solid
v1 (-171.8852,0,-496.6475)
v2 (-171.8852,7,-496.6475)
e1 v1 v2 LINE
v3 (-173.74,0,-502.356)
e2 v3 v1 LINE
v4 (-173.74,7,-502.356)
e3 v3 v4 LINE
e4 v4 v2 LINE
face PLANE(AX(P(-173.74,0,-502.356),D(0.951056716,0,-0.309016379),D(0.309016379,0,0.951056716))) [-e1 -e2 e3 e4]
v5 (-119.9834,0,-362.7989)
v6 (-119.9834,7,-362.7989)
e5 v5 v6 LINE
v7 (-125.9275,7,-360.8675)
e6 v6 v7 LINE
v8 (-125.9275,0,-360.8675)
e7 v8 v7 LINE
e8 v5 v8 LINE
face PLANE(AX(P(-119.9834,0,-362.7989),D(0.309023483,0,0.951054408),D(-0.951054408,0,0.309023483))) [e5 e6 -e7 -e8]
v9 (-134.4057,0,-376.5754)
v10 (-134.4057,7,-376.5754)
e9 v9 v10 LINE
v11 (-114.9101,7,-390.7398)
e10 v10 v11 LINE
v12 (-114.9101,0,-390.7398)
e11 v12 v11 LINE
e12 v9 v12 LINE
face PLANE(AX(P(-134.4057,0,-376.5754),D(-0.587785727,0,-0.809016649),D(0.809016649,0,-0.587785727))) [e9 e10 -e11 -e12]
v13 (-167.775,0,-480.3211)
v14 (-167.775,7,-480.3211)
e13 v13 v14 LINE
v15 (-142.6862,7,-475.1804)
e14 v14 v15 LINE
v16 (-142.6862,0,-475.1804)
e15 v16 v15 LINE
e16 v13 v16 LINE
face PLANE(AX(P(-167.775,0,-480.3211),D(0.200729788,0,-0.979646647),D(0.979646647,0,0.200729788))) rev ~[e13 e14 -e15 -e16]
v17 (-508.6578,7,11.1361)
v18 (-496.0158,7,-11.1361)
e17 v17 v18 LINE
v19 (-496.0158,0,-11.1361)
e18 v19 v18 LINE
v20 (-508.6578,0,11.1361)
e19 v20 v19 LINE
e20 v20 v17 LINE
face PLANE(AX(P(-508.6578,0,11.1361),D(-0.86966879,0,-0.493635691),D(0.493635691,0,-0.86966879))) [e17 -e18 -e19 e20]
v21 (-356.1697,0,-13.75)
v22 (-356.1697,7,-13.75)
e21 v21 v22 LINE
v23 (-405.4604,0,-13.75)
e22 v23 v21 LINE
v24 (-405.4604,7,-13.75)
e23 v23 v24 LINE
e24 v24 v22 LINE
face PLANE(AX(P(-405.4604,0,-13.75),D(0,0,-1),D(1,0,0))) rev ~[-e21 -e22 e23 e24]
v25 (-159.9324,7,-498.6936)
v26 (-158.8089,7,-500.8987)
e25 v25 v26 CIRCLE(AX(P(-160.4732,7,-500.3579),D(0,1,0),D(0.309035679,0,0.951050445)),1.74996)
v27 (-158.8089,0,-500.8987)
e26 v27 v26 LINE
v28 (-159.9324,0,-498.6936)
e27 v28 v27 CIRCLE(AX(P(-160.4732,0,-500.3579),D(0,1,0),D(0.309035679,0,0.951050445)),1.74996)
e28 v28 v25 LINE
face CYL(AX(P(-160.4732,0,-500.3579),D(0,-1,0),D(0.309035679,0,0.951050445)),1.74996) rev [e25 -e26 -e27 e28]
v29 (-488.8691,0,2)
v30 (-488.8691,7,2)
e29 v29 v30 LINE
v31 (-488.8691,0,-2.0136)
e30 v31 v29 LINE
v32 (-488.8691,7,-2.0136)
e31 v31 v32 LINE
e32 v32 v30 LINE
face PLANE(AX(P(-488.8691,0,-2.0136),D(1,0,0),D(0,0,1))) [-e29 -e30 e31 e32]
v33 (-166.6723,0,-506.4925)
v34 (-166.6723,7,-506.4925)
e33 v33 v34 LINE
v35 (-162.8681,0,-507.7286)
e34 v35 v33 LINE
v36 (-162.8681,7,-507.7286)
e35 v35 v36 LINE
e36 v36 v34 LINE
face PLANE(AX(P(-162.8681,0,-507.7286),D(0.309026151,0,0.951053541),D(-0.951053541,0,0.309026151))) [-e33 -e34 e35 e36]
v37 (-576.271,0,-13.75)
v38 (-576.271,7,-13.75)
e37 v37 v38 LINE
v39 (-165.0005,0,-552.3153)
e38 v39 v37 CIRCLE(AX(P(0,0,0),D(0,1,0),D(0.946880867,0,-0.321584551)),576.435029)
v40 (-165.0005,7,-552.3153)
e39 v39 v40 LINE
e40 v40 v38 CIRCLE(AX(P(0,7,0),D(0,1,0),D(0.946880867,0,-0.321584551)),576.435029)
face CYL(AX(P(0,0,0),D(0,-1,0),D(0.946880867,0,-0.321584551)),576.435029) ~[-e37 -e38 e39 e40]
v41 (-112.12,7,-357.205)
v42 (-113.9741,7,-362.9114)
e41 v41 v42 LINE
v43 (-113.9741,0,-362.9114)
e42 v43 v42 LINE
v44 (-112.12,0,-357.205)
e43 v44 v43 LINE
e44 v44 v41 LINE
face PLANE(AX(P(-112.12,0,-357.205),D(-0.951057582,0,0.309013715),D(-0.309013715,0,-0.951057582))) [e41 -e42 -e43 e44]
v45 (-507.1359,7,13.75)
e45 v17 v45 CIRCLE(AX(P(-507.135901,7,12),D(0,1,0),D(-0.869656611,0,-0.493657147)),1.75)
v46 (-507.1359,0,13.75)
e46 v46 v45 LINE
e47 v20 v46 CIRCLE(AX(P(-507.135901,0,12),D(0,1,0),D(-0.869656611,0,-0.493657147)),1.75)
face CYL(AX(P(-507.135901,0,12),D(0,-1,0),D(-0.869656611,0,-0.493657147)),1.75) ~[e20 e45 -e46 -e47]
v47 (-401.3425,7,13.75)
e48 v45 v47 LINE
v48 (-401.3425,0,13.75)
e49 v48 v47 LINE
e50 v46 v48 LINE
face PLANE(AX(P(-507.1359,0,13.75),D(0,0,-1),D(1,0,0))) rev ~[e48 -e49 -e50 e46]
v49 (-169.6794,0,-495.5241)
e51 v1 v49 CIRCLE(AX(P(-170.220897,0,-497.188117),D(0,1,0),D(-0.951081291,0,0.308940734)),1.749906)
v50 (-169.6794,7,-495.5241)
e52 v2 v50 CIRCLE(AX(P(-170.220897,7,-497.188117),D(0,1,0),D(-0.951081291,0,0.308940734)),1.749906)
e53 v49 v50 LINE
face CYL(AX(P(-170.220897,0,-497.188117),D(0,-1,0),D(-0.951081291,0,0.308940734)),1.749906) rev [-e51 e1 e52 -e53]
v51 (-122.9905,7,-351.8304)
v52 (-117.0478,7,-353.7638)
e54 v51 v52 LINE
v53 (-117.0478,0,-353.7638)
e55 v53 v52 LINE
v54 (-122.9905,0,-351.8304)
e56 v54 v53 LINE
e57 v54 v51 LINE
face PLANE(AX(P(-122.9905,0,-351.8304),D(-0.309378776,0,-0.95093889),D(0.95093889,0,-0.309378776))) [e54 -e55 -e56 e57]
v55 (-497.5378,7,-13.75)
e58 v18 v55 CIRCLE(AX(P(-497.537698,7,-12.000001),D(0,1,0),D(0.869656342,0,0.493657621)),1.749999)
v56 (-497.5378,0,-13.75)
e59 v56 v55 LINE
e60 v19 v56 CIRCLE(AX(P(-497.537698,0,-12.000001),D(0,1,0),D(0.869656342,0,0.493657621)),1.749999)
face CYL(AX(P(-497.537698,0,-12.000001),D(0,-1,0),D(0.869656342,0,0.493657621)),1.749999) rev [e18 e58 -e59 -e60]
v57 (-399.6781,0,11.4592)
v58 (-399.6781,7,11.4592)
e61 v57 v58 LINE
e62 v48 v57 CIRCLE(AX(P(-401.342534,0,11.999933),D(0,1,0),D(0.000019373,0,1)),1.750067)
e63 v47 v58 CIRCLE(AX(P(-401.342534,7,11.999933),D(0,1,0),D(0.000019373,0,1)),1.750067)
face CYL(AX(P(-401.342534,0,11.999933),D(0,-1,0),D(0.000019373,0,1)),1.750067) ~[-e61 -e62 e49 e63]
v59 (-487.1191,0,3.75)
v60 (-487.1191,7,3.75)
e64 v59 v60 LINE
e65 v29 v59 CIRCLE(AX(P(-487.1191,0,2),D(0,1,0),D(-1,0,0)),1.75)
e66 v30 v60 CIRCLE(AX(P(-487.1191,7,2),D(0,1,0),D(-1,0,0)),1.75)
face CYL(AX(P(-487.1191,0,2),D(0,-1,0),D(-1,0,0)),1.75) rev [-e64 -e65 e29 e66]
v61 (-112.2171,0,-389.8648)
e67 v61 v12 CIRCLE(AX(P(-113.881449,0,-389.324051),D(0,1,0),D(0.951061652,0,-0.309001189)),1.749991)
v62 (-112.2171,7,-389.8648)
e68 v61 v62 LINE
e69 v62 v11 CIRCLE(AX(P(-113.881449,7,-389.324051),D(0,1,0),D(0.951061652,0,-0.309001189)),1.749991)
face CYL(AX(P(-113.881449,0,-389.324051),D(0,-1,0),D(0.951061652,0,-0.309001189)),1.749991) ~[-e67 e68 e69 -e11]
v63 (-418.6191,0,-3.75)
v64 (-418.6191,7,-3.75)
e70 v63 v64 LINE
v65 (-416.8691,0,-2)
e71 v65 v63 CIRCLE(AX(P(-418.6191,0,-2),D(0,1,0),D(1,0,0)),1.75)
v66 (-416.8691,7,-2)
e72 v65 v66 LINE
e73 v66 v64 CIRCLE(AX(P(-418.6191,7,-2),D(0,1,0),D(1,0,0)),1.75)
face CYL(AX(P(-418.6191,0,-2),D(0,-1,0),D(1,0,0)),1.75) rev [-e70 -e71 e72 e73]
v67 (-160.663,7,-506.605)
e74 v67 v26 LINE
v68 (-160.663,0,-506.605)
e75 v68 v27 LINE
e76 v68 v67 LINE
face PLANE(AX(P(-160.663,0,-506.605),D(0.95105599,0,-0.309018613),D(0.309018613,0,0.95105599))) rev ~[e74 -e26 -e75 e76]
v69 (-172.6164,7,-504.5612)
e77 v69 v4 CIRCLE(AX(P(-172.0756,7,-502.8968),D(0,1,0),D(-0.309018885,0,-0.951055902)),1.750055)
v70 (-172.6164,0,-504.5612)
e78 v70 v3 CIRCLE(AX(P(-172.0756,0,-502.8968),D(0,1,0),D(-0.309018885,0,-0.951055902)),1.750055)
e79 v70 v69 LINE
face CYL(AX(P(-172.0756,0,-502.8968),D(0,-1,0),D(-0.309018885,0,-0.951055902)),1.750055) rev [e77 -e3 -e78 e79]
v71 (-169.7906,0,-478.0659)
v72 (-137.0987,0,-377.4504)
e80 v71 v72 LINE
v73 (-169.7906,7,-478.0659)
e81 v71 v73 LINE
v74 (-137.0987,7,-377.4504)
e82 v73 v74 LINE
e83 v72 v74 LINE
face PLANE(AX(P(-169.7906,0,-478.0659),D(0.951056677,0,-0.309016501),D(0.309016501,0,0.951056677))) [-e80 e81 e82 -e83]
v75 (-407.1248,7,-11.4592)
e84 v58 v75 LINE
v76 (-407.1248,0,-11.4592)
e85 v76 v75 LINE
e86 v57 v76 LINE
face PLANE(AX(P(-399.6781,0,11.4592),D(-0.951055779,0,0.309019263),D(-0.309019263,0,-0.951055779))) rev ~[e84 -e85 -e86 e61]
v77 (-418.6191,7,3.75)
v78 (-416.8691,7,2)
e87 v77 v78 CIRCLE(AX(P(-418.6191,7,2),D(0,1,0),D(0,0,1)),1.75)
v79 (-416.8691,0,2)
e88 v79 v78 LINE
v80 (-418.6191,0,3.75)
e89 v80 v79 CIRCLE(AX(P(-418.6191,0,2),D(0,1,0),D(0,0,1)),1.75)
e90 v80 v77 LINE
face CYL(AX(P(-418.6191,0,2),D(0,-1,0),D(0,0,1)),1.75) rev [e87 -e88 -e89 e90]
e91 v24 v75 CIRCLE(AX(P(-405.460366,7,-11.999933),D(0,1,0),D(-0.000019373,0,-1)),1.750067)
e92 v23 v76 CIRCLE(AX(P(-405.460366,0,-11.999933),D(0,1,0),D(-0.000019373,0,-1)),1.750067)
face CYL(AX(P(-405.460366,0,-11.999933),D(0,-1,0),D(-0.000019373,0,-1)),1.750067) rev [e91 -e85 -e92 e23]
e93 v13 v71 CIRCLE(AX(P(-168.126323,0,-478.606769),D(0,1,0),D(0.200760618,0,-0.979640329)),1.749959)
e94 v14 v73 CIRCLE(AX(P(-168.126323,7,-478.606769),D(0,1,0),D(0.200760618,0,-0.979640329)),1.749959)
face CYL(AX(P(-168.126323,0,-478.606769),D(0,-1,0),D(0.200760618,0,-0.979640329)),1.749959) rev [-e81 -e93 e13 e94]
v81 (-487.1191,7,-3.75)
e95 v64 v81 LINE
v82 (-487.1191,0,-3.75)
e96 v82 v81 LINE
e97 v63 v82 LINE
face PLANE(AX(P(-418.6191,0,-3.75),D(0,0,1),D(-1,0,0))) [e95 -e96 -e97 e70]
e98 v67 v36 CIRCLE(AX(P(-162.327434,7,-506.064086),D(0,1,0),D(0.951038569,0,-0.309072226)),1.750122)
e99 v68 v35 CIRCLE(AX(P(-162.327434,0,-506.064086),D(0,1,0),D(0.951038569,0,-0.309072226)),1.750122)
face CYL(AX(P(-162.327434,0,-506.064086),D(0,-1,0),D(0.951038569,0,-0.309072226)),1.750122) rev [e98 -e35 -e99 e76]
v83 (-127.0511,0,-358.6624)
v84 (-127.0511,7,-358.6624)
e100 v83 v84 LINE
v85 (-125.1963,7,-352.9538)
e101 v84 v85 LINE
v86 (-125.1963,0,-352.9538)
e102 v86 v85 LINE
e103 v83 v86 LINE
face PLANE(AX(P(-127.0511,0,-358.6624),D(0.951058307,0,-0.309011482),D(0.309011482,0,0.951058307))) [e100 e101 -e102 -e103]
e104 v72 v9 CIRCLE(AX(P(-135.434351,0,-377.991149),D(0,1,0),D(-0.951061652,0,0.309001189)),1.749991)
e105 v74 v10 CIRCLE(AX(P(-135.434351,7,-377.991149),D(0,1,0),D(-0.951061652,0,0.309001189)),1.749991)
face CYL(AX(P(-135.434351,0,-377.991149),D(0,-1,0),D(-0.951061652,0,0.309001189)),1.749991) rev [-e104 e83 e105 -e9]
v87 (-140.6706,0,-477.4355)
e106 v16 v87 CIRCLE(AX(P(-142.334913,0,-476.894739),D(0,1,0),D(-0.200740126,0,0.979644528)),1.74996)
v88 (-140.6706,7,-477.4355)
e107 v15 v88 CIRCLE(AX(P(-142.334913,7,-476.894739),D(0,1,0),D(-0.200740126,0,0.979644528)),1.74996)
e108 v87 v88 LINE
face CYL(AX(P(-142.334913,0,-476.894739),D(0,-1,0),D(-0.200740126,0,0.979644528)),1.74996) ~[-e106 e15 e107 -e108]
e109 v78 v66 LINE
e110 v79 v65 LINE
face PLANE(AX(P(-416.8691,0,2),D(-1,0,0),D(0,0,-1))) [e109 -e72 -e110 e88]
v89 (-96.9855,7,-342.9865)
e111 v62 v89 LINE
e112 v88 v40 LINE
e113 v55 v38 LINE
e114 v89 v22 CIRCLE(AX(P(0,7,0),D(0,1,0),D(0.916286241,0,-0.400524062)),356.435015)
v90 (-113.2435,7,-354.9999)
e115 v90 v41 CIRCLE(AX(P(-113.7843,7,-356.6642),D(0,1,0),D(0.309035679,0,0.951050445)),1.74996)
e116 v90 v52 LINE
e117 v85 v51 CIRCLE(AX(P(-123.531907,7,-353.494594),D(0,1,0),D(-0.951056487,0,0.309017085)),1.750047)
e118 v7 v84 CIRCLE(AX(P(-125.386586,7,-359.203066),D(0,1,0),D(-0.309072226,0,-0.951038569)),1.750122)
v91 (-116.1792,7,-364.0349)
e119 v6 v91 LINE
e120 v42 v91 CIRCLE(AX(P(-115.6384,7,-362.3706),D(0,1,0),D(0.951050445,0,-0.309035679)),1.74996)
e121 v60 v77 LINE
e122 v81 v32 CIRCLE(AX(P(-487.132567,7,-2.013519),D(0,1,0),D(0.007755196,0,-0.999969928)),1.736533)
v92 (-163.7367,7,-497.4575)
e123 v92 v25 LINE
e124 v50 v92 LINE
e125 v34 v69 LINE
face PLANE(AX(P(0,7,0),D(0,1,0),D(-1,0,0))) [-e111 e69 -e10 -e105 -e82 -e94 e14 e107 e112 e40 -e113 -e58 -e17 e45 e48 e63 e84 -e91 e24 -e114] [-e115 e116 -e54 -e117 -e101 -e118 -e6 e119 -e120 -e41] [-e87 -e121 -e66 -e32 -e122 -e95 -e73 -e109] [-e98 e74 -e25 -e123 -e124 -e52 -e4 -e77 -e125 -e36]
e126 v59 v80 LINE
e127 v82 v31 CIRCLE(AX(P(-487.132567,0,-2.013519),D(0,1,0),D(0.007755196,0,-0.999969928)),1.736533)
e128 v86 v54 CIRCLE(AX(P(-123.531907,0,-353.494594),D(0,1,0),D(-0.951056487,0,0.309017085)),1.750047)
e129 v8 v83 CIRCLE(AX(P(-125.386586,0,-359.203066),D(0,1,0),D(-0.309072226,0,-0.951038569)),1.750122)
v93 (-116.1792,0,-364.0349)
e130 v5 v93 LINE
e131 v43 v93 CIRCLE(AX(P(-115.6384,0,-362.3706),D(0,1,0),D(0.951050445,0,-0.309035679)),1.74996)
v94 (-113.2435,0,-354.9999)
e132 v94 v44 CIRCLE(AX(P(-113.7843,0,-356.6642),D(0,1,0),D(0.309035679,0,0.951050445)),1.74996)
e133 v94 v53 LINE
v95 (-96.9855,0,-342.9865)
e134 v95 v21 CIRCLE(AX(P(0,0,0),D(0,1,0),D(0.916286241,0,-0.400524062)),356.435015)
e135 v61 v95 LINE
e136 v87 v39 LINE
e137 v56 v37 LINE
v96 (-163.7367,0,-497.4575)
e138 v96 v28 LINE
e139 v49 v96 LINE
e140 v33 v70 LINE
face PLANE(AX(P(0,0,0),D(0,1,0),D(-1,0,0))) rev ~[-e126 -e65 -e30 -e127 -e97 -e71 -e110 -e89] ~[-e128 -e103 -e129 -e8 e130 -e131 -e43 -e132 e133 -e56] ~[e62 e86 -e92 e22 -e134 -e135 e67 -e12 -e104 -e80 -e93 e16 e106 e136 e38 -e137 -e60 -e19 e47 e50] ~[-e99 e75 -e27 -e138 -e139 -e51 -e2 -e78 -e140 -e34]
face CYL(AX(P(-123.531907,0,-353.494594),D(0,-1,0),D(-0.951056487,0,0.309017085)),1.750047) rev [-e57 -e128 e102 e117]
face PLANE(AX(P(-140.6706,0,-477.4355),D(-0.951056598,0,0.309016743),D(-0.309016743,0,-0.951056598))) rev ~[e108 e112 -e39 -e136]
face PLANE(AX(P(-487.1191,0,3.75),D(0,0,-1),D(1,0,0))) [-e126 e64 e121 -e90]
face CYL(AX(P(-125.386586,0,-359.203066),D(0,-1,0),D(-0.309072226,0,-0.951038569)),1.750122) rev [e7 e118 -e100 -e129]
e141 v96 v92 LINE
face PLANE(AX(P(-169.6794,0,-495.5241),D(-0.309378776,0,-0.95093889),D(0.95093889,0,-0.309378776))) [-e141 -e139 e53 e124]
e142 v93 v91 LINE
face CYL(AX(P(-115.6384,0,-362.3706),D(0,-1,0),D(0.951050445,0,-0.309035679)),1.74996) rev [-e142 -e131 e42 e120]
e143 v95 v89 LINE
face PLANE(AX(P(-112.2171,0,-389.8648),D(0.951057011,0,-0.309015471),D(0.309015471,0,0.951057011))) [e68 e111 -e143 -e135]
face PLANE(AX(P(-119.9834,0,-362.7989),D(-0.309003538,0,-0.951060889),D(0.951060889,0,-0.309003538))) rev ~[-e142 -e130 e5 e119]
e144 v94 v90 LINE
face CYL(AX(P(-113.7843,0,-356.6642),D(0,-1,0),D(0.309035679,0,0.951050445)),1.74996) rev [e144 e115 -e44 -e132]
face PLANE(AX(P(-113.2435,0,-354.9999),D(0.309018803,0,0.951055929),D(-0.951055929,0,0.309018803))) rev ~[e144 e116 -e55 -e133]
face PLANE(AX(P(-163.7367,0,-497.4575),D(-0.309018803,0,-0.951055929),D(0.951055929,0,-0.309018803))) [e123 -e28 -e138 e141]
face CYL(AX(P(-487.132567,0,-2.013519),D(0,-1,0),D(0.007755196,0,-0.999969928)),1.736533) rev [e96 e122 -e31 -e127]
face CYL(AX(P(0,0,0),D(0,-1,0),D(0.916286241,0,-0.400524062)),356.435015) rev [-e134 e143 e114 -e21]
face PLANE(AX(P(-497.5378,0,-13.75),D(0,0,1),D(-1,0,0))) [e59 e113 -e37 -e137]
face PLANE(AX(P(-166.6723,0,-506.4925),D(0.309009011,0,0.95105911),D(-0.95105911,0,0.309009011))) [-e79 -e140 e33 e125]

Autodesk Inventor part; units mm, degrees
ref_plane "YZ Plane" through (0, 0, 0) normal (1, 0, 0) x (0, 1, 0)
ref_plane "XZ Plane" through (0, 0, 0) normal (0, 1, 0) x (-1, 0, 0)
ref_plane "XY Plane" through (0, 0, 0) normal (0, 0, 1) x (1, 0, 0)
sketch "Sketch1" plane through (0, 0, 0) normal (0, 1, 0) x (-1, 0, 0)
  line L0 (-545.8153, 185.3726) -> (-326.5965, 142.7608)
  line L1 (-545.8153, -185.3726) -> (-326.5965, -142.7608)
  arc A0 (-545.8153, -185.3726) -> (-545.8153, 185.3726) centre (0, 0) ccw
  arc A1 (374.3691, 3.75) -> (372.6191, 2) centre (374.3691, 2) ccw
  arc A2 (372.6191, -2) -> (374.3691, -3.75) centre (374.3691, -2) ccw
  line L2 (380.3691, 3.75) -> (374.3691, 3.75)
  line L3 (374.3691, -3.75) -> (380.3691, -3.75)
  line L4 (382.1191, 2) -> (382.1191, -2)
  arc A3 (380.3691, -3.75) -> (382.1191, -2) centre (380.3691, -2) ccw
  arc A4 (382.1191, 2) -> (380.3691, 3.75) centre (380.3691, 2) ccw
  line L5 (372.6191, -2) -> (372.6191, 2)
  line L6 (523.7076, 2) -> (523.7076, -2)
  arc A5 (523.7076, -2) -> (525.4576, -3.75) centre (525.4576, -2) ccw
  arc A6 (525.4576, 3.75) -> (523.7076, 2) centre (525.4576, 2) ccw
  line L7 (531.4576, -3.75) -> (525.4576, -3.75)
  line L8 (525.4576, 3.75) -> (531.4576, 3.75)
  arc A7 (531.4576, -3.75) -> (533.2076, -2) centre (531.4576, -2) ccw
  line L9 (533.2076, -2) -> (533.2076, 2)
  arc A8 (533.2076, 2) -> (531.4576, 3.75) centre (531.4576, 2) ccw
  arc A9 (-326.5965, -142.7608) -> (-326.5965, 142.7608) centre (0, 0) ccw
  line L10 (116.1792, 364.0349) -> (119.9834, 362.7989)
  arc A10 (121.107, 360.5937) -> (119.9834, 362.7989) centre (119.4426, 361.1345) ccw
  arc A11 (116.1792, 364.0349) -> (113.9741, 362.9114) centre (115.6384, 362.3706) ccw
  line L11 (119.2529, 354.8874) -> (121.107, 360.5937)
  line L12 (113.9741, 362.9114) -> (112.12, 357.205)
  line L13 (117.0478, 353.7638) -> (113.2435, 354.9999)
  arc A12 (112.12, 357.205) -> (113.2435, 354.9999) centre (113.7843, 356.6642) ccw
  arc A13 (117.0478, 353.7638) -> (119.2529, 354.8874) centre (117.5885, 355.4282) ccw
  arc A14 (163.7367, 497.4575) -> (165.9418, 498.5811) centre (164.2774, 499.1218) ccw
  arc A15 (158.8089, 500.8987) -> (159.9324, 498.6936) centre (160.4732, 500.3579) ccw
  line L14 (159.9324, 498.6936) -> (163.7367, 497.4575)
  line L15 (158.8089, 500.8987) -> (160.663, 506.605)
  line L16 (167.7959, 504.2874) -> (165.9418, 498.5811)
  arc A16 (162.8681, 507.7286) -> (160.663, 506.605) centre (162.3273, 506.0642) ccw
  line L17 (166.6723, 506.4925) -> (162.8681, 507.7286)
  arc A17 (167.7959, 504.2874) -> (166.6723, 506.4925) centre (166.1315, 504.8282) ccw
  line L18 (-310.3164, 222.986) -> (-307.9653, 226.222)
  arc A18 (-305.5209, 226.6092) -> (-307.9653, 226.222) centre (-306.5495, 225.1934) ccw
  arc A19 (-310.3164, 222.986) -> (-309.9293, 220.5416) centre (-308.9007, 221.9573) ccw
  line L19 (-300.6668, 223.0825) -> (-305.5209, 226.6092)
  line L20 (-309.9293, 220.5416) -> (-305.0752, 217.0148)
  line L21 (-300.2796, 220.6381) -> (-302.6308, 217.402)
  arc A20 (-305.0752, 217.0148) -> (-302.6308, 217.402) centre (-304.0466, 218.4306) ccw
  arc A21 (-300.2796, 220.6381) -> (-300.6668, 223.0825) centre (-301.6954, 221.6667) ccw
  arc A22 (-422.5128, 309.4456) -> (-422.8999, 311.89) centre (-423.9286, 310.4743) ccw
  arc A23 (-427.3083, 305.8224) -> (-424.8639, 306.2096) centre (-426.2797, 307.2382) ccw
  line L22 (-424.8639, 306.2096) -> (-422.5128, 309.4456)
  line L23 (-427.3083, 305.8224) -> (-432.1624, 309.3491)
  line L24 (-427.754, 315.4167) -> (-422.8999, 311.89)
  arc A24 (-432.5496, 311.7935) -> (-432.1624, 309.3491) centre (-431.1338, 310.7649) ccw
  line L25 (-430.1984, 315.0296) -> (-432.5496, 311.7935)
  arc A25 (-427.754, 315.4167) -> (-430.1984, 315.0296) centre (-428.7827, 314.001) ccw
  line L26 (-307.9653, -226.222) -> (-310.3164, -222.986)
  arc A26 (-309.9293, -220.5416) -> (-310.3164, -222.986) centre (-308.9007, -221.9573) ccw
  arc A27 (-307.9653, -226.222) -> (-305.5209, -226.6092) centre (-306.5495, -225.1934) ccw
  line L27 (-305.0752, -217.0148) -> (-309.9293, -220.5416)
  line L28 (-305.5209, -226.6092) -> (-300.6668, -223.0825)
  line L29 (-302.6308, -217.402) -> (-300.2796, -220.6381)
  arc A28 (-300.6668, -223.0825) -> (-300.2796, -220.6381) centre (-301.6954, -221.6667) ccw
  arc A29 (-302.6308, -217.402) -> (-305.0752, -217.0148) centre (-304.0466, -218.4306) ccw
  arc A30 (-424.8639, -306.2096) -> (-427.3083, -305.8224) centre (-426.2797, -307.2382) ccw
  arc A31 (-422.8999, -311.89) -> (-422.5128, -309.4456) centre (-423.9286, -310.4743) ccw
  line L30 (-422.5128, -309.4456) -> (-424.8639, -306.2096)
  line L31 (-422.8999, -311.89) -> (-427.754, -315.4167)
  line L32 (-432.1624, -309.3491) -> (-427.3083, -305.8224)
  arc A32 (-430.1984, -315.0296) -> (-427.754, -315.4167) centre (-428.7827, -314.001) ccw
  line L33 (-432.5496, -311.7935) -> (-430.1984, -315.0296)
  arc A33 (-432.1624, -309.3491) -> (-432.5496, -311.7935) centre (-431.1338, -310.7649) ccw
  line L34 (119.9834, -362.7989) -> (116.1792, -364.0349)
  arc A34 (113.9741, -362.9114) -> (116.1792, -364.0349) centre (115.6384, -362.3706) ccw
  arc A35 (119.9834, -362.7989) -> (121.107, -360.5937) centre (119.4426, -361.1345) ccw
  line L35 (112.12, -357.205) -> (113.9741, -362.9114)
  line L36 (121.107, -360.5937) -> (119.2529, -354.8874)
  line L37 (113.2435, -354.9999) -> (117.0478, -353.7638)
  arc A36 (119.2529, -354.8874) -> (117.0478, -353.7638) centre (117.5885, -355.4282) ccw
  arc A37 (113.2435, -354.9999) -> (112.12, -357.205) centre (113.7843, -356.6642) ccw
  arc A38 (159.9324, -498.6936) -> (158.8089, -500.8987) centre (160.4732, -500.3579) ccw
  arc A39 (165.9418, -498.5811) -> (163.7367, -497.4575) centre (164.2774, -499.1218) ccw
  line L38 (163.7367, -497.4575) -> (159.9324, -498.6936)
  line L39 (165.9418, -498.5811) -> (167.7959, -504.2874)
  line L40 (160.663, -506.605) -> (158.8089, -500.8987)
  arc A40 (166.6723, -506.4925) -> (167.7959, -504.2874) centre (166.1315, -504.8282) ccw
  line L41 (162.8681, -507.7286) -> (166.6723, -506.4925)
  arc A41 (160.663, -506.605) -> (162.8681, -507.7286) centre (162.3273, -506.0642) ccw
  line L42 (225.4462, 74.1184) -> (211.8442, 74.1184)
  line L43 (225.4462, 74.1184) -> (225.4462, 49.1184)
  arc A42 (405.4604, -13.75) -> (407.1248, -11.4592) centre (405.4604, -12) ccw
  arc A43 (496.0158, -11.1361) -> (497.5378, -13.75) centre (497.5378, -12) ccw
  line L44 (508.6578, 11.1361) -> (496.0158, -11.1361)
  arc A44 (508.6578, 11.1361) -> (507.1359, 13.75) centre (507.1359, 12) ccw
  arc A45 (416.8691, -2) -> (418.6191, -3.75) centre (418.6191, -2) ccw
  line L45 (399.6781, 11.4592) -> (407.1248, -11.4592)
  line L46 (416.8691, 2) -> (416.8691, -2)
  arc A46 (401.3425, 13.75) -> (399.6781, 11.4592) centre (401.3425, 12) ccw
  arc A47 (418.6191, 3.75) -> (416.8691, 2) centre (418.6191, 2) ccw
  line L47 (507.1359, 13.75) -> (401.3425, 13.75)
  line L48 (418.6191, -3.75) -> (487.1191, -3.75)
  line L49 (487.1191, 3.75) -> (418.6191, 3.75)
  arc A48 (487.1191, -3.75) -> (488.8691, -2.0136) centre (487.1326, -2.0136) ccw
  line L50 (488.8691, -2.0136) -> (488.8691, 2)
  arc A49 (488.8691, 2) -> (487.1191, 3.75) centre (487.1191, 2) ccw
  line L51 (405.4604, -13.75) -> (356.1697, -13.75)
  line L52 (497.5378, -13.75) -> (576.271, -13.75)
  arc A50 (163.8684, 468.2978) -> (166.8247, 468.9375) centre (165.1603, 469.4783) ccw
  line L53 (146.5928, 487.2036) -> (163.8684, 468.2978)
  arc A51 (146.5928, 487.2036) -> (143.6366, 486.5639) centre (145.3009, 486.0231) ccw
  line L54 (152.9839, 464.32) -> (149.1668, 465.5602)
  arc A52 (154.0946, 462.119) -> (152.9839, 464.32) centre (152.4473, 462.6685) ccw
  arc A53 (149.1668, 465.5602) -> (146.9616, 464.4366) centre (148.626, 463.8959) ccw
  arc A54 (110.9446, 385.9484) -> (112.609, 383.6576) centre (112.609, 385.4076) ccw
  arc A55 (138.3712, 381.3668) -> (136.7068, 383.6576) centre (136.7068, 381.9076) ccw
  line L55 (112.609, 383.6576) -> (136.7068, 383.6576)
  line L56 (126.9175, 397.0841) -> (130.7218, 395.8481)
  arc A56 (125.794, 399.2893) -> (126.9175, 397.0841) centre (127.4583, 398.7485) ccw
  line L57 (143.6366, 486.5639) -> (110.9446, 385.9484)
  line L58 (146.9616, 464.4366) -> (125.794, 399.2893)
  line L59 (132.9269, 396.9716) -> (154.0946, 462.119)
  arc A57 (130.7218, 395.8481) -> (132.9269, 396.9716) centre (131.2625, 397.5124) ccw
  line L60 (138.3712, 381.3668) -> (123.1395, 334.4885)
  line L61 (166.8247, 468.9375) -> (191.1546, 543.8173)
  line L62 (-394.3199, 288.9791) -> (-396.679, 285.732)
  arc A58 (-391.8835, 289.3553) -> (-394.3199, 288.9791) centre (-392.915, 287.9584) ccw
  arc A59 (-396.679, 285.732) -> (-396.2919, 283.2876) centre (-395.2632, 284.7034) ccw
  line L63 (-338.4298, 243.4115) -> (-336.0786, 246.6476)
  arc A60 (-340.8742, 243.0243) -> (-338.4298, 243.4115) centre (-339.8456, 244.4401) ccw
  line L64 (-396.2919, 283.2876) -> (-340.8742, 243.0243)
  line L65 (-336.4658, 249.092) -> (-391.8835, 289.3553)
  arc A61 (-336.0786, 246.6476) -> (-336.4658, 249.092) centre (-337.4944, 247.6762) ccw
  line L66 (-396.687, -285.7211) -> (-394.3279, -288.9681)
  arc A62 (-396.2919, -283.2876) -> (-396.687, -285.7211) centre (-395.2821, -284.7004) ccw
  arc A63 (-394.3279, -288.9681) -> (-391.8835, -289.3553) centre (-392.9121, -287.9395) ccw
  line L67 (-336.0786, -246.6476) -> (-338.4298, -243.4115)
  arc A64 (-336.4658, -249.092) -> (-336.0786, -246.6476) centre (-337.4944, -247.6762) ccw
  line L68 (-391.8835, -289.3553) -> (-336.4658, -249.092)
  line L69 (-340.8742, -243.0243) -> (-396.2919, -283.2876)
  arc A65 (-338.4298, -243.4115) -> (-340.8742, -243.0243) centre (-339.8456, -244.4401) ccw
  arc A66 (142.6862, -475.1804) -> (140.6706, -477.4355) centre (142.3349, -476.8947) ccw
  line L70 (167.775, -480.3211) -> (142.6862, -475.1804)
  arc A67 (167.775, -480.3211) -> (169.7906, -478.0659) centre (168.1263, -478.6067) ccw
  line L71 (149.1539, -465.5644) -> (152.971, -464.3241)
  arc A68 (146.9616, -464.4366) -> (149.1539, -465.5644) centre (148.6173, -463.9129) ccw
  arc A69 (152.971, -464.3241) -> (154.0946, -462.119) centre (152.4302, -462.6598) ccw
  arc A70 (137.0987, -377.4504) -> (134.4057, -376.5754) centre (135.4343, -377.9912) ccw
  arc A71 (112.2171, -389.8648) -> (114.9101, -390.7398) centre (113.8815, -389.324) ccw
  line L72 (134.4057, -376.5754) -> (114.9101, -390.7398)
  line L73 (130.7218, -395.8481) -> (126.9175, -397.0841)
  arc A72 (132.9269, -396.9716) -> (130.7218, -395.8481) centre (131.2625, -397.5124) ccw
  line L74 (169.7906, -478.0659) -> (137.0987, -377.4504)
  line L75 (154.0946, -462.119) -> (132.9269, -396.9716)
  line L76 (125.794, -399.2893) -> (146.9616, -464.4366)
  arc A73 (126.9175, -397.0841) -> (125.794, -399.2893) centre (127.4583, -398.7485) ccw
  line L77 (112.2171, -389.8648) -> (96.9855, -342.9865)
  line L78 (140.6706, -477.4355) -> (165.0005, -552.3153)
  line L79 (-432.5496, 311.7935) -> (-436.2232, 306.7372)
  line L80 (-435.8361, 304.2928) -> (-430.9801, 300.7647)
  line L81 (-428.5353, 301.1524) -> (-424.8639, 306.2096)
  arc A74 (-436.2232, 306.7372) -> (-435.8361, 304.2928) centre (-434.8075, 305.7085) ccw
  arc A75 (-430.9801, 300.7647) -> (-428.5353, 301.1524) centre (-429.9515, 302.1805) ccw
  line L82 (-310.3164, 222.986) -> (-313.9901, 217.9296)
  line L83 (-313.603, 215.4852) -> (-308.7469, 211.9571)
  line L84 (-306.3022, 212.3448) -> (-302.6308, 217.402)
  arc A76 (-313.9901, 217.9296) -> (-313.603, 215.4852) centre (-312.5743, 216.901) ccw
  arc A77 (-308.7469, 211.9571) -> (-306.3022, 212.3448) centre (-307.7183, 213.3729) ccw
  line L85 (-430.1984, -315.0296) -> (-426.5248, -320.086)
  arc A78 (-426.5248, -320.086) -> (-424.0804, -320.4731) centre (-425.109, -319.0573) ccw
  line L86 (-424.0804, -320.4731) -> (-419.2244, -316.945)
  arc A79 (-419.2244, -316.945) -> (-418.8376, -314.5001) centre (-420.253, -315.5292) ccw
  line L87 (-418.8376, -314.5001) -> (-422.5128, -309.4456)
  line L88 (-307.9653, -226.222) -> (-304.2917, -231.2784)
  arc A80 (-304.2917, -231.2784) -> (-301.8472, -231.6655) centre (-302.8759, -230.2498) ccw
  line L89 (-301.8472, -231.6655) -> (-296.9912, -228.1374)
  line L90 (-296.6045, -225.6925) -> (-300.2796, -220.6381)
  arc A81 (-296.9912, -228.1374) -> (-296.6045, -225.6925) centre (-298.0199, -226.7217) ccw
  line L91 (166.6723, -506.4925) -> (172.6164, -504.5612)
  arc A82 (172.6164, -504.5612) -> (173.74, -502.356) centre (172.0756, -502.8968) ccw
  line L92 (173.74, -502.356) -> (171.8852, -496.6475)
  arc A83 (171.8852, -496.6475) -> (169.6794, -495.5241) centre (170.2208, -497.1882) ccw
  line L93 (169.6794, -495.5241) -> (163.7367, -497.4575)
  line L94 (119.9834, -362.7989) -> (125.9275, -360.8675)
  arc A84 (125.9275, -360.8675) -> (127.0511, -358.6624) centre (125.3867, -359.2032) ccw
  line L95 (127.0511, -358.6624) -> (125.1963, -352.9538)
  line L96 (122.9905, -351.8304) -> (117.0478, -353.7638)
  arc A85 (125.1963, -352.9538) -> (122.9905, -351.8304) centre (123.5319, -353.4946) ccw
  line L97 (533.2076, 2) -> (533.2076, 8.25)
  arc A86 (533.2076, 8.25) -> (531.4576, 10) centre (531.4576, 8.25) ccw
  line L98 (531.4576, 10) -> (525.4552, 10)
  arc A87 (525.4552, 10) -> (523.7052, 8.2493) centre (525.4552, 8.25) ccw
  line L99 (523.7052, 8.2493) -> (523.7076, 2)
  line L100 (382.1191, 2) -> (382.1191, 8.25)
  arc A88 (382.1191, 8.25) -> (380.3691, 10) centre (380.3691, 8.25) ccw
  line L101 (380.3691, 10) -> (374.3668, 10)
  line L102 (372.6168, 8.2493) -> (372.6191, 2)
  arc A89 (374.3668, 10) -> (372.6168, 8.2493) centre (374.3668, 8.25) ccw
  line L103 (162.8681, 507.7286) -> (156.924, 509.6599)
  arc A90 (156.924, 509.6599) -> (154.7189, 508.5364) centre (156.3832, 507.9956) ccw
  line L104 (154.7189, 508.5364) -> (152.864, 502.8278)
  arc A91 (152.864, 502.8278) -> (153.9882, 500.6225) centre (154.5284, 502.287) ccw
  line L105 (153.9882, 500.6225) -> (159.9324, 498.6936)
  line L106 (116.1792, 364.0349) -> (110.2351, 365.9663)
  arc A92 (110.2351, 365.9663) -> (108.03, 364.8427) centre (109.6943, 364.3019) ccw
  line L107 (108.03, 364.8427) -> (106.1751, 359.1341)
  line L108 (107.2993, 356.9288) -> (113.2435, 354.9999)
  arc A93 (106.1751, 359.1341) -> (107.2993, 356.9288) centre (107.8395, 358.5934) ccw
  point P0 (494.5322, -13.75)
  point P1 (417.3817, -3.2374)
  point P2 (417.3817, 3.2374)
  point P3 (488.3566, 3.2374)
  point P4 (165.8959, 466.0791)
  point P5 (147.8315, 465.4551)
  point P6 (125.8991, 397.954)
  point P7 (132.057, 395.9532)
  point P8 (-396.9917, 284.4297)
  point P9 (-339.5718, 242.7117)
  point P10 (-335.766, 247.95)
  point P11 (-393.1859, -289.6679)
  point P12 (-335.766, -247.95)
  point P13 (-339.5718, -242.7117)
  point P14 (139.7418, -474.577)
  point P15 (153.9895, -463.4543)
  point P16 (132.057, -395.9532)
  point P17 (125.8991, -397.954)
  point P18 (-302.6308, 217.402)
  point P19 (113.2435, 354.9999)
  point P20 (372.6191, 2)
  point P21 (117.0478, -353.7638)
  dimension "d34" = 1152.87
  dimension "d45" = 7.5
  dimension "d48" = 712.87
  dimension "d60" = 360
  dimension "d62" = 13.602
  dimension "d63" = 25
  dimension "d72" = 7.5
  dimension "d74" = 3.5
  dimension "d75" = 3.5
  dimension "d79" = 0
  dimension "d80" = 8
  dimension "d81" = 1.75
  dimension "d84" = 8
  dimension "d85" = 1.75
  dimension "d88" = 360
extrude "Extrusion1" add sketch "Sketch1" along normal blind 7 contours A0 L78 A66 L70 A67 L74 A70 L72 A71 L77 A9 L51 A42 L45 A46 L47 A44 L44 A43 L52
properties part number "Level 2c - V2"
